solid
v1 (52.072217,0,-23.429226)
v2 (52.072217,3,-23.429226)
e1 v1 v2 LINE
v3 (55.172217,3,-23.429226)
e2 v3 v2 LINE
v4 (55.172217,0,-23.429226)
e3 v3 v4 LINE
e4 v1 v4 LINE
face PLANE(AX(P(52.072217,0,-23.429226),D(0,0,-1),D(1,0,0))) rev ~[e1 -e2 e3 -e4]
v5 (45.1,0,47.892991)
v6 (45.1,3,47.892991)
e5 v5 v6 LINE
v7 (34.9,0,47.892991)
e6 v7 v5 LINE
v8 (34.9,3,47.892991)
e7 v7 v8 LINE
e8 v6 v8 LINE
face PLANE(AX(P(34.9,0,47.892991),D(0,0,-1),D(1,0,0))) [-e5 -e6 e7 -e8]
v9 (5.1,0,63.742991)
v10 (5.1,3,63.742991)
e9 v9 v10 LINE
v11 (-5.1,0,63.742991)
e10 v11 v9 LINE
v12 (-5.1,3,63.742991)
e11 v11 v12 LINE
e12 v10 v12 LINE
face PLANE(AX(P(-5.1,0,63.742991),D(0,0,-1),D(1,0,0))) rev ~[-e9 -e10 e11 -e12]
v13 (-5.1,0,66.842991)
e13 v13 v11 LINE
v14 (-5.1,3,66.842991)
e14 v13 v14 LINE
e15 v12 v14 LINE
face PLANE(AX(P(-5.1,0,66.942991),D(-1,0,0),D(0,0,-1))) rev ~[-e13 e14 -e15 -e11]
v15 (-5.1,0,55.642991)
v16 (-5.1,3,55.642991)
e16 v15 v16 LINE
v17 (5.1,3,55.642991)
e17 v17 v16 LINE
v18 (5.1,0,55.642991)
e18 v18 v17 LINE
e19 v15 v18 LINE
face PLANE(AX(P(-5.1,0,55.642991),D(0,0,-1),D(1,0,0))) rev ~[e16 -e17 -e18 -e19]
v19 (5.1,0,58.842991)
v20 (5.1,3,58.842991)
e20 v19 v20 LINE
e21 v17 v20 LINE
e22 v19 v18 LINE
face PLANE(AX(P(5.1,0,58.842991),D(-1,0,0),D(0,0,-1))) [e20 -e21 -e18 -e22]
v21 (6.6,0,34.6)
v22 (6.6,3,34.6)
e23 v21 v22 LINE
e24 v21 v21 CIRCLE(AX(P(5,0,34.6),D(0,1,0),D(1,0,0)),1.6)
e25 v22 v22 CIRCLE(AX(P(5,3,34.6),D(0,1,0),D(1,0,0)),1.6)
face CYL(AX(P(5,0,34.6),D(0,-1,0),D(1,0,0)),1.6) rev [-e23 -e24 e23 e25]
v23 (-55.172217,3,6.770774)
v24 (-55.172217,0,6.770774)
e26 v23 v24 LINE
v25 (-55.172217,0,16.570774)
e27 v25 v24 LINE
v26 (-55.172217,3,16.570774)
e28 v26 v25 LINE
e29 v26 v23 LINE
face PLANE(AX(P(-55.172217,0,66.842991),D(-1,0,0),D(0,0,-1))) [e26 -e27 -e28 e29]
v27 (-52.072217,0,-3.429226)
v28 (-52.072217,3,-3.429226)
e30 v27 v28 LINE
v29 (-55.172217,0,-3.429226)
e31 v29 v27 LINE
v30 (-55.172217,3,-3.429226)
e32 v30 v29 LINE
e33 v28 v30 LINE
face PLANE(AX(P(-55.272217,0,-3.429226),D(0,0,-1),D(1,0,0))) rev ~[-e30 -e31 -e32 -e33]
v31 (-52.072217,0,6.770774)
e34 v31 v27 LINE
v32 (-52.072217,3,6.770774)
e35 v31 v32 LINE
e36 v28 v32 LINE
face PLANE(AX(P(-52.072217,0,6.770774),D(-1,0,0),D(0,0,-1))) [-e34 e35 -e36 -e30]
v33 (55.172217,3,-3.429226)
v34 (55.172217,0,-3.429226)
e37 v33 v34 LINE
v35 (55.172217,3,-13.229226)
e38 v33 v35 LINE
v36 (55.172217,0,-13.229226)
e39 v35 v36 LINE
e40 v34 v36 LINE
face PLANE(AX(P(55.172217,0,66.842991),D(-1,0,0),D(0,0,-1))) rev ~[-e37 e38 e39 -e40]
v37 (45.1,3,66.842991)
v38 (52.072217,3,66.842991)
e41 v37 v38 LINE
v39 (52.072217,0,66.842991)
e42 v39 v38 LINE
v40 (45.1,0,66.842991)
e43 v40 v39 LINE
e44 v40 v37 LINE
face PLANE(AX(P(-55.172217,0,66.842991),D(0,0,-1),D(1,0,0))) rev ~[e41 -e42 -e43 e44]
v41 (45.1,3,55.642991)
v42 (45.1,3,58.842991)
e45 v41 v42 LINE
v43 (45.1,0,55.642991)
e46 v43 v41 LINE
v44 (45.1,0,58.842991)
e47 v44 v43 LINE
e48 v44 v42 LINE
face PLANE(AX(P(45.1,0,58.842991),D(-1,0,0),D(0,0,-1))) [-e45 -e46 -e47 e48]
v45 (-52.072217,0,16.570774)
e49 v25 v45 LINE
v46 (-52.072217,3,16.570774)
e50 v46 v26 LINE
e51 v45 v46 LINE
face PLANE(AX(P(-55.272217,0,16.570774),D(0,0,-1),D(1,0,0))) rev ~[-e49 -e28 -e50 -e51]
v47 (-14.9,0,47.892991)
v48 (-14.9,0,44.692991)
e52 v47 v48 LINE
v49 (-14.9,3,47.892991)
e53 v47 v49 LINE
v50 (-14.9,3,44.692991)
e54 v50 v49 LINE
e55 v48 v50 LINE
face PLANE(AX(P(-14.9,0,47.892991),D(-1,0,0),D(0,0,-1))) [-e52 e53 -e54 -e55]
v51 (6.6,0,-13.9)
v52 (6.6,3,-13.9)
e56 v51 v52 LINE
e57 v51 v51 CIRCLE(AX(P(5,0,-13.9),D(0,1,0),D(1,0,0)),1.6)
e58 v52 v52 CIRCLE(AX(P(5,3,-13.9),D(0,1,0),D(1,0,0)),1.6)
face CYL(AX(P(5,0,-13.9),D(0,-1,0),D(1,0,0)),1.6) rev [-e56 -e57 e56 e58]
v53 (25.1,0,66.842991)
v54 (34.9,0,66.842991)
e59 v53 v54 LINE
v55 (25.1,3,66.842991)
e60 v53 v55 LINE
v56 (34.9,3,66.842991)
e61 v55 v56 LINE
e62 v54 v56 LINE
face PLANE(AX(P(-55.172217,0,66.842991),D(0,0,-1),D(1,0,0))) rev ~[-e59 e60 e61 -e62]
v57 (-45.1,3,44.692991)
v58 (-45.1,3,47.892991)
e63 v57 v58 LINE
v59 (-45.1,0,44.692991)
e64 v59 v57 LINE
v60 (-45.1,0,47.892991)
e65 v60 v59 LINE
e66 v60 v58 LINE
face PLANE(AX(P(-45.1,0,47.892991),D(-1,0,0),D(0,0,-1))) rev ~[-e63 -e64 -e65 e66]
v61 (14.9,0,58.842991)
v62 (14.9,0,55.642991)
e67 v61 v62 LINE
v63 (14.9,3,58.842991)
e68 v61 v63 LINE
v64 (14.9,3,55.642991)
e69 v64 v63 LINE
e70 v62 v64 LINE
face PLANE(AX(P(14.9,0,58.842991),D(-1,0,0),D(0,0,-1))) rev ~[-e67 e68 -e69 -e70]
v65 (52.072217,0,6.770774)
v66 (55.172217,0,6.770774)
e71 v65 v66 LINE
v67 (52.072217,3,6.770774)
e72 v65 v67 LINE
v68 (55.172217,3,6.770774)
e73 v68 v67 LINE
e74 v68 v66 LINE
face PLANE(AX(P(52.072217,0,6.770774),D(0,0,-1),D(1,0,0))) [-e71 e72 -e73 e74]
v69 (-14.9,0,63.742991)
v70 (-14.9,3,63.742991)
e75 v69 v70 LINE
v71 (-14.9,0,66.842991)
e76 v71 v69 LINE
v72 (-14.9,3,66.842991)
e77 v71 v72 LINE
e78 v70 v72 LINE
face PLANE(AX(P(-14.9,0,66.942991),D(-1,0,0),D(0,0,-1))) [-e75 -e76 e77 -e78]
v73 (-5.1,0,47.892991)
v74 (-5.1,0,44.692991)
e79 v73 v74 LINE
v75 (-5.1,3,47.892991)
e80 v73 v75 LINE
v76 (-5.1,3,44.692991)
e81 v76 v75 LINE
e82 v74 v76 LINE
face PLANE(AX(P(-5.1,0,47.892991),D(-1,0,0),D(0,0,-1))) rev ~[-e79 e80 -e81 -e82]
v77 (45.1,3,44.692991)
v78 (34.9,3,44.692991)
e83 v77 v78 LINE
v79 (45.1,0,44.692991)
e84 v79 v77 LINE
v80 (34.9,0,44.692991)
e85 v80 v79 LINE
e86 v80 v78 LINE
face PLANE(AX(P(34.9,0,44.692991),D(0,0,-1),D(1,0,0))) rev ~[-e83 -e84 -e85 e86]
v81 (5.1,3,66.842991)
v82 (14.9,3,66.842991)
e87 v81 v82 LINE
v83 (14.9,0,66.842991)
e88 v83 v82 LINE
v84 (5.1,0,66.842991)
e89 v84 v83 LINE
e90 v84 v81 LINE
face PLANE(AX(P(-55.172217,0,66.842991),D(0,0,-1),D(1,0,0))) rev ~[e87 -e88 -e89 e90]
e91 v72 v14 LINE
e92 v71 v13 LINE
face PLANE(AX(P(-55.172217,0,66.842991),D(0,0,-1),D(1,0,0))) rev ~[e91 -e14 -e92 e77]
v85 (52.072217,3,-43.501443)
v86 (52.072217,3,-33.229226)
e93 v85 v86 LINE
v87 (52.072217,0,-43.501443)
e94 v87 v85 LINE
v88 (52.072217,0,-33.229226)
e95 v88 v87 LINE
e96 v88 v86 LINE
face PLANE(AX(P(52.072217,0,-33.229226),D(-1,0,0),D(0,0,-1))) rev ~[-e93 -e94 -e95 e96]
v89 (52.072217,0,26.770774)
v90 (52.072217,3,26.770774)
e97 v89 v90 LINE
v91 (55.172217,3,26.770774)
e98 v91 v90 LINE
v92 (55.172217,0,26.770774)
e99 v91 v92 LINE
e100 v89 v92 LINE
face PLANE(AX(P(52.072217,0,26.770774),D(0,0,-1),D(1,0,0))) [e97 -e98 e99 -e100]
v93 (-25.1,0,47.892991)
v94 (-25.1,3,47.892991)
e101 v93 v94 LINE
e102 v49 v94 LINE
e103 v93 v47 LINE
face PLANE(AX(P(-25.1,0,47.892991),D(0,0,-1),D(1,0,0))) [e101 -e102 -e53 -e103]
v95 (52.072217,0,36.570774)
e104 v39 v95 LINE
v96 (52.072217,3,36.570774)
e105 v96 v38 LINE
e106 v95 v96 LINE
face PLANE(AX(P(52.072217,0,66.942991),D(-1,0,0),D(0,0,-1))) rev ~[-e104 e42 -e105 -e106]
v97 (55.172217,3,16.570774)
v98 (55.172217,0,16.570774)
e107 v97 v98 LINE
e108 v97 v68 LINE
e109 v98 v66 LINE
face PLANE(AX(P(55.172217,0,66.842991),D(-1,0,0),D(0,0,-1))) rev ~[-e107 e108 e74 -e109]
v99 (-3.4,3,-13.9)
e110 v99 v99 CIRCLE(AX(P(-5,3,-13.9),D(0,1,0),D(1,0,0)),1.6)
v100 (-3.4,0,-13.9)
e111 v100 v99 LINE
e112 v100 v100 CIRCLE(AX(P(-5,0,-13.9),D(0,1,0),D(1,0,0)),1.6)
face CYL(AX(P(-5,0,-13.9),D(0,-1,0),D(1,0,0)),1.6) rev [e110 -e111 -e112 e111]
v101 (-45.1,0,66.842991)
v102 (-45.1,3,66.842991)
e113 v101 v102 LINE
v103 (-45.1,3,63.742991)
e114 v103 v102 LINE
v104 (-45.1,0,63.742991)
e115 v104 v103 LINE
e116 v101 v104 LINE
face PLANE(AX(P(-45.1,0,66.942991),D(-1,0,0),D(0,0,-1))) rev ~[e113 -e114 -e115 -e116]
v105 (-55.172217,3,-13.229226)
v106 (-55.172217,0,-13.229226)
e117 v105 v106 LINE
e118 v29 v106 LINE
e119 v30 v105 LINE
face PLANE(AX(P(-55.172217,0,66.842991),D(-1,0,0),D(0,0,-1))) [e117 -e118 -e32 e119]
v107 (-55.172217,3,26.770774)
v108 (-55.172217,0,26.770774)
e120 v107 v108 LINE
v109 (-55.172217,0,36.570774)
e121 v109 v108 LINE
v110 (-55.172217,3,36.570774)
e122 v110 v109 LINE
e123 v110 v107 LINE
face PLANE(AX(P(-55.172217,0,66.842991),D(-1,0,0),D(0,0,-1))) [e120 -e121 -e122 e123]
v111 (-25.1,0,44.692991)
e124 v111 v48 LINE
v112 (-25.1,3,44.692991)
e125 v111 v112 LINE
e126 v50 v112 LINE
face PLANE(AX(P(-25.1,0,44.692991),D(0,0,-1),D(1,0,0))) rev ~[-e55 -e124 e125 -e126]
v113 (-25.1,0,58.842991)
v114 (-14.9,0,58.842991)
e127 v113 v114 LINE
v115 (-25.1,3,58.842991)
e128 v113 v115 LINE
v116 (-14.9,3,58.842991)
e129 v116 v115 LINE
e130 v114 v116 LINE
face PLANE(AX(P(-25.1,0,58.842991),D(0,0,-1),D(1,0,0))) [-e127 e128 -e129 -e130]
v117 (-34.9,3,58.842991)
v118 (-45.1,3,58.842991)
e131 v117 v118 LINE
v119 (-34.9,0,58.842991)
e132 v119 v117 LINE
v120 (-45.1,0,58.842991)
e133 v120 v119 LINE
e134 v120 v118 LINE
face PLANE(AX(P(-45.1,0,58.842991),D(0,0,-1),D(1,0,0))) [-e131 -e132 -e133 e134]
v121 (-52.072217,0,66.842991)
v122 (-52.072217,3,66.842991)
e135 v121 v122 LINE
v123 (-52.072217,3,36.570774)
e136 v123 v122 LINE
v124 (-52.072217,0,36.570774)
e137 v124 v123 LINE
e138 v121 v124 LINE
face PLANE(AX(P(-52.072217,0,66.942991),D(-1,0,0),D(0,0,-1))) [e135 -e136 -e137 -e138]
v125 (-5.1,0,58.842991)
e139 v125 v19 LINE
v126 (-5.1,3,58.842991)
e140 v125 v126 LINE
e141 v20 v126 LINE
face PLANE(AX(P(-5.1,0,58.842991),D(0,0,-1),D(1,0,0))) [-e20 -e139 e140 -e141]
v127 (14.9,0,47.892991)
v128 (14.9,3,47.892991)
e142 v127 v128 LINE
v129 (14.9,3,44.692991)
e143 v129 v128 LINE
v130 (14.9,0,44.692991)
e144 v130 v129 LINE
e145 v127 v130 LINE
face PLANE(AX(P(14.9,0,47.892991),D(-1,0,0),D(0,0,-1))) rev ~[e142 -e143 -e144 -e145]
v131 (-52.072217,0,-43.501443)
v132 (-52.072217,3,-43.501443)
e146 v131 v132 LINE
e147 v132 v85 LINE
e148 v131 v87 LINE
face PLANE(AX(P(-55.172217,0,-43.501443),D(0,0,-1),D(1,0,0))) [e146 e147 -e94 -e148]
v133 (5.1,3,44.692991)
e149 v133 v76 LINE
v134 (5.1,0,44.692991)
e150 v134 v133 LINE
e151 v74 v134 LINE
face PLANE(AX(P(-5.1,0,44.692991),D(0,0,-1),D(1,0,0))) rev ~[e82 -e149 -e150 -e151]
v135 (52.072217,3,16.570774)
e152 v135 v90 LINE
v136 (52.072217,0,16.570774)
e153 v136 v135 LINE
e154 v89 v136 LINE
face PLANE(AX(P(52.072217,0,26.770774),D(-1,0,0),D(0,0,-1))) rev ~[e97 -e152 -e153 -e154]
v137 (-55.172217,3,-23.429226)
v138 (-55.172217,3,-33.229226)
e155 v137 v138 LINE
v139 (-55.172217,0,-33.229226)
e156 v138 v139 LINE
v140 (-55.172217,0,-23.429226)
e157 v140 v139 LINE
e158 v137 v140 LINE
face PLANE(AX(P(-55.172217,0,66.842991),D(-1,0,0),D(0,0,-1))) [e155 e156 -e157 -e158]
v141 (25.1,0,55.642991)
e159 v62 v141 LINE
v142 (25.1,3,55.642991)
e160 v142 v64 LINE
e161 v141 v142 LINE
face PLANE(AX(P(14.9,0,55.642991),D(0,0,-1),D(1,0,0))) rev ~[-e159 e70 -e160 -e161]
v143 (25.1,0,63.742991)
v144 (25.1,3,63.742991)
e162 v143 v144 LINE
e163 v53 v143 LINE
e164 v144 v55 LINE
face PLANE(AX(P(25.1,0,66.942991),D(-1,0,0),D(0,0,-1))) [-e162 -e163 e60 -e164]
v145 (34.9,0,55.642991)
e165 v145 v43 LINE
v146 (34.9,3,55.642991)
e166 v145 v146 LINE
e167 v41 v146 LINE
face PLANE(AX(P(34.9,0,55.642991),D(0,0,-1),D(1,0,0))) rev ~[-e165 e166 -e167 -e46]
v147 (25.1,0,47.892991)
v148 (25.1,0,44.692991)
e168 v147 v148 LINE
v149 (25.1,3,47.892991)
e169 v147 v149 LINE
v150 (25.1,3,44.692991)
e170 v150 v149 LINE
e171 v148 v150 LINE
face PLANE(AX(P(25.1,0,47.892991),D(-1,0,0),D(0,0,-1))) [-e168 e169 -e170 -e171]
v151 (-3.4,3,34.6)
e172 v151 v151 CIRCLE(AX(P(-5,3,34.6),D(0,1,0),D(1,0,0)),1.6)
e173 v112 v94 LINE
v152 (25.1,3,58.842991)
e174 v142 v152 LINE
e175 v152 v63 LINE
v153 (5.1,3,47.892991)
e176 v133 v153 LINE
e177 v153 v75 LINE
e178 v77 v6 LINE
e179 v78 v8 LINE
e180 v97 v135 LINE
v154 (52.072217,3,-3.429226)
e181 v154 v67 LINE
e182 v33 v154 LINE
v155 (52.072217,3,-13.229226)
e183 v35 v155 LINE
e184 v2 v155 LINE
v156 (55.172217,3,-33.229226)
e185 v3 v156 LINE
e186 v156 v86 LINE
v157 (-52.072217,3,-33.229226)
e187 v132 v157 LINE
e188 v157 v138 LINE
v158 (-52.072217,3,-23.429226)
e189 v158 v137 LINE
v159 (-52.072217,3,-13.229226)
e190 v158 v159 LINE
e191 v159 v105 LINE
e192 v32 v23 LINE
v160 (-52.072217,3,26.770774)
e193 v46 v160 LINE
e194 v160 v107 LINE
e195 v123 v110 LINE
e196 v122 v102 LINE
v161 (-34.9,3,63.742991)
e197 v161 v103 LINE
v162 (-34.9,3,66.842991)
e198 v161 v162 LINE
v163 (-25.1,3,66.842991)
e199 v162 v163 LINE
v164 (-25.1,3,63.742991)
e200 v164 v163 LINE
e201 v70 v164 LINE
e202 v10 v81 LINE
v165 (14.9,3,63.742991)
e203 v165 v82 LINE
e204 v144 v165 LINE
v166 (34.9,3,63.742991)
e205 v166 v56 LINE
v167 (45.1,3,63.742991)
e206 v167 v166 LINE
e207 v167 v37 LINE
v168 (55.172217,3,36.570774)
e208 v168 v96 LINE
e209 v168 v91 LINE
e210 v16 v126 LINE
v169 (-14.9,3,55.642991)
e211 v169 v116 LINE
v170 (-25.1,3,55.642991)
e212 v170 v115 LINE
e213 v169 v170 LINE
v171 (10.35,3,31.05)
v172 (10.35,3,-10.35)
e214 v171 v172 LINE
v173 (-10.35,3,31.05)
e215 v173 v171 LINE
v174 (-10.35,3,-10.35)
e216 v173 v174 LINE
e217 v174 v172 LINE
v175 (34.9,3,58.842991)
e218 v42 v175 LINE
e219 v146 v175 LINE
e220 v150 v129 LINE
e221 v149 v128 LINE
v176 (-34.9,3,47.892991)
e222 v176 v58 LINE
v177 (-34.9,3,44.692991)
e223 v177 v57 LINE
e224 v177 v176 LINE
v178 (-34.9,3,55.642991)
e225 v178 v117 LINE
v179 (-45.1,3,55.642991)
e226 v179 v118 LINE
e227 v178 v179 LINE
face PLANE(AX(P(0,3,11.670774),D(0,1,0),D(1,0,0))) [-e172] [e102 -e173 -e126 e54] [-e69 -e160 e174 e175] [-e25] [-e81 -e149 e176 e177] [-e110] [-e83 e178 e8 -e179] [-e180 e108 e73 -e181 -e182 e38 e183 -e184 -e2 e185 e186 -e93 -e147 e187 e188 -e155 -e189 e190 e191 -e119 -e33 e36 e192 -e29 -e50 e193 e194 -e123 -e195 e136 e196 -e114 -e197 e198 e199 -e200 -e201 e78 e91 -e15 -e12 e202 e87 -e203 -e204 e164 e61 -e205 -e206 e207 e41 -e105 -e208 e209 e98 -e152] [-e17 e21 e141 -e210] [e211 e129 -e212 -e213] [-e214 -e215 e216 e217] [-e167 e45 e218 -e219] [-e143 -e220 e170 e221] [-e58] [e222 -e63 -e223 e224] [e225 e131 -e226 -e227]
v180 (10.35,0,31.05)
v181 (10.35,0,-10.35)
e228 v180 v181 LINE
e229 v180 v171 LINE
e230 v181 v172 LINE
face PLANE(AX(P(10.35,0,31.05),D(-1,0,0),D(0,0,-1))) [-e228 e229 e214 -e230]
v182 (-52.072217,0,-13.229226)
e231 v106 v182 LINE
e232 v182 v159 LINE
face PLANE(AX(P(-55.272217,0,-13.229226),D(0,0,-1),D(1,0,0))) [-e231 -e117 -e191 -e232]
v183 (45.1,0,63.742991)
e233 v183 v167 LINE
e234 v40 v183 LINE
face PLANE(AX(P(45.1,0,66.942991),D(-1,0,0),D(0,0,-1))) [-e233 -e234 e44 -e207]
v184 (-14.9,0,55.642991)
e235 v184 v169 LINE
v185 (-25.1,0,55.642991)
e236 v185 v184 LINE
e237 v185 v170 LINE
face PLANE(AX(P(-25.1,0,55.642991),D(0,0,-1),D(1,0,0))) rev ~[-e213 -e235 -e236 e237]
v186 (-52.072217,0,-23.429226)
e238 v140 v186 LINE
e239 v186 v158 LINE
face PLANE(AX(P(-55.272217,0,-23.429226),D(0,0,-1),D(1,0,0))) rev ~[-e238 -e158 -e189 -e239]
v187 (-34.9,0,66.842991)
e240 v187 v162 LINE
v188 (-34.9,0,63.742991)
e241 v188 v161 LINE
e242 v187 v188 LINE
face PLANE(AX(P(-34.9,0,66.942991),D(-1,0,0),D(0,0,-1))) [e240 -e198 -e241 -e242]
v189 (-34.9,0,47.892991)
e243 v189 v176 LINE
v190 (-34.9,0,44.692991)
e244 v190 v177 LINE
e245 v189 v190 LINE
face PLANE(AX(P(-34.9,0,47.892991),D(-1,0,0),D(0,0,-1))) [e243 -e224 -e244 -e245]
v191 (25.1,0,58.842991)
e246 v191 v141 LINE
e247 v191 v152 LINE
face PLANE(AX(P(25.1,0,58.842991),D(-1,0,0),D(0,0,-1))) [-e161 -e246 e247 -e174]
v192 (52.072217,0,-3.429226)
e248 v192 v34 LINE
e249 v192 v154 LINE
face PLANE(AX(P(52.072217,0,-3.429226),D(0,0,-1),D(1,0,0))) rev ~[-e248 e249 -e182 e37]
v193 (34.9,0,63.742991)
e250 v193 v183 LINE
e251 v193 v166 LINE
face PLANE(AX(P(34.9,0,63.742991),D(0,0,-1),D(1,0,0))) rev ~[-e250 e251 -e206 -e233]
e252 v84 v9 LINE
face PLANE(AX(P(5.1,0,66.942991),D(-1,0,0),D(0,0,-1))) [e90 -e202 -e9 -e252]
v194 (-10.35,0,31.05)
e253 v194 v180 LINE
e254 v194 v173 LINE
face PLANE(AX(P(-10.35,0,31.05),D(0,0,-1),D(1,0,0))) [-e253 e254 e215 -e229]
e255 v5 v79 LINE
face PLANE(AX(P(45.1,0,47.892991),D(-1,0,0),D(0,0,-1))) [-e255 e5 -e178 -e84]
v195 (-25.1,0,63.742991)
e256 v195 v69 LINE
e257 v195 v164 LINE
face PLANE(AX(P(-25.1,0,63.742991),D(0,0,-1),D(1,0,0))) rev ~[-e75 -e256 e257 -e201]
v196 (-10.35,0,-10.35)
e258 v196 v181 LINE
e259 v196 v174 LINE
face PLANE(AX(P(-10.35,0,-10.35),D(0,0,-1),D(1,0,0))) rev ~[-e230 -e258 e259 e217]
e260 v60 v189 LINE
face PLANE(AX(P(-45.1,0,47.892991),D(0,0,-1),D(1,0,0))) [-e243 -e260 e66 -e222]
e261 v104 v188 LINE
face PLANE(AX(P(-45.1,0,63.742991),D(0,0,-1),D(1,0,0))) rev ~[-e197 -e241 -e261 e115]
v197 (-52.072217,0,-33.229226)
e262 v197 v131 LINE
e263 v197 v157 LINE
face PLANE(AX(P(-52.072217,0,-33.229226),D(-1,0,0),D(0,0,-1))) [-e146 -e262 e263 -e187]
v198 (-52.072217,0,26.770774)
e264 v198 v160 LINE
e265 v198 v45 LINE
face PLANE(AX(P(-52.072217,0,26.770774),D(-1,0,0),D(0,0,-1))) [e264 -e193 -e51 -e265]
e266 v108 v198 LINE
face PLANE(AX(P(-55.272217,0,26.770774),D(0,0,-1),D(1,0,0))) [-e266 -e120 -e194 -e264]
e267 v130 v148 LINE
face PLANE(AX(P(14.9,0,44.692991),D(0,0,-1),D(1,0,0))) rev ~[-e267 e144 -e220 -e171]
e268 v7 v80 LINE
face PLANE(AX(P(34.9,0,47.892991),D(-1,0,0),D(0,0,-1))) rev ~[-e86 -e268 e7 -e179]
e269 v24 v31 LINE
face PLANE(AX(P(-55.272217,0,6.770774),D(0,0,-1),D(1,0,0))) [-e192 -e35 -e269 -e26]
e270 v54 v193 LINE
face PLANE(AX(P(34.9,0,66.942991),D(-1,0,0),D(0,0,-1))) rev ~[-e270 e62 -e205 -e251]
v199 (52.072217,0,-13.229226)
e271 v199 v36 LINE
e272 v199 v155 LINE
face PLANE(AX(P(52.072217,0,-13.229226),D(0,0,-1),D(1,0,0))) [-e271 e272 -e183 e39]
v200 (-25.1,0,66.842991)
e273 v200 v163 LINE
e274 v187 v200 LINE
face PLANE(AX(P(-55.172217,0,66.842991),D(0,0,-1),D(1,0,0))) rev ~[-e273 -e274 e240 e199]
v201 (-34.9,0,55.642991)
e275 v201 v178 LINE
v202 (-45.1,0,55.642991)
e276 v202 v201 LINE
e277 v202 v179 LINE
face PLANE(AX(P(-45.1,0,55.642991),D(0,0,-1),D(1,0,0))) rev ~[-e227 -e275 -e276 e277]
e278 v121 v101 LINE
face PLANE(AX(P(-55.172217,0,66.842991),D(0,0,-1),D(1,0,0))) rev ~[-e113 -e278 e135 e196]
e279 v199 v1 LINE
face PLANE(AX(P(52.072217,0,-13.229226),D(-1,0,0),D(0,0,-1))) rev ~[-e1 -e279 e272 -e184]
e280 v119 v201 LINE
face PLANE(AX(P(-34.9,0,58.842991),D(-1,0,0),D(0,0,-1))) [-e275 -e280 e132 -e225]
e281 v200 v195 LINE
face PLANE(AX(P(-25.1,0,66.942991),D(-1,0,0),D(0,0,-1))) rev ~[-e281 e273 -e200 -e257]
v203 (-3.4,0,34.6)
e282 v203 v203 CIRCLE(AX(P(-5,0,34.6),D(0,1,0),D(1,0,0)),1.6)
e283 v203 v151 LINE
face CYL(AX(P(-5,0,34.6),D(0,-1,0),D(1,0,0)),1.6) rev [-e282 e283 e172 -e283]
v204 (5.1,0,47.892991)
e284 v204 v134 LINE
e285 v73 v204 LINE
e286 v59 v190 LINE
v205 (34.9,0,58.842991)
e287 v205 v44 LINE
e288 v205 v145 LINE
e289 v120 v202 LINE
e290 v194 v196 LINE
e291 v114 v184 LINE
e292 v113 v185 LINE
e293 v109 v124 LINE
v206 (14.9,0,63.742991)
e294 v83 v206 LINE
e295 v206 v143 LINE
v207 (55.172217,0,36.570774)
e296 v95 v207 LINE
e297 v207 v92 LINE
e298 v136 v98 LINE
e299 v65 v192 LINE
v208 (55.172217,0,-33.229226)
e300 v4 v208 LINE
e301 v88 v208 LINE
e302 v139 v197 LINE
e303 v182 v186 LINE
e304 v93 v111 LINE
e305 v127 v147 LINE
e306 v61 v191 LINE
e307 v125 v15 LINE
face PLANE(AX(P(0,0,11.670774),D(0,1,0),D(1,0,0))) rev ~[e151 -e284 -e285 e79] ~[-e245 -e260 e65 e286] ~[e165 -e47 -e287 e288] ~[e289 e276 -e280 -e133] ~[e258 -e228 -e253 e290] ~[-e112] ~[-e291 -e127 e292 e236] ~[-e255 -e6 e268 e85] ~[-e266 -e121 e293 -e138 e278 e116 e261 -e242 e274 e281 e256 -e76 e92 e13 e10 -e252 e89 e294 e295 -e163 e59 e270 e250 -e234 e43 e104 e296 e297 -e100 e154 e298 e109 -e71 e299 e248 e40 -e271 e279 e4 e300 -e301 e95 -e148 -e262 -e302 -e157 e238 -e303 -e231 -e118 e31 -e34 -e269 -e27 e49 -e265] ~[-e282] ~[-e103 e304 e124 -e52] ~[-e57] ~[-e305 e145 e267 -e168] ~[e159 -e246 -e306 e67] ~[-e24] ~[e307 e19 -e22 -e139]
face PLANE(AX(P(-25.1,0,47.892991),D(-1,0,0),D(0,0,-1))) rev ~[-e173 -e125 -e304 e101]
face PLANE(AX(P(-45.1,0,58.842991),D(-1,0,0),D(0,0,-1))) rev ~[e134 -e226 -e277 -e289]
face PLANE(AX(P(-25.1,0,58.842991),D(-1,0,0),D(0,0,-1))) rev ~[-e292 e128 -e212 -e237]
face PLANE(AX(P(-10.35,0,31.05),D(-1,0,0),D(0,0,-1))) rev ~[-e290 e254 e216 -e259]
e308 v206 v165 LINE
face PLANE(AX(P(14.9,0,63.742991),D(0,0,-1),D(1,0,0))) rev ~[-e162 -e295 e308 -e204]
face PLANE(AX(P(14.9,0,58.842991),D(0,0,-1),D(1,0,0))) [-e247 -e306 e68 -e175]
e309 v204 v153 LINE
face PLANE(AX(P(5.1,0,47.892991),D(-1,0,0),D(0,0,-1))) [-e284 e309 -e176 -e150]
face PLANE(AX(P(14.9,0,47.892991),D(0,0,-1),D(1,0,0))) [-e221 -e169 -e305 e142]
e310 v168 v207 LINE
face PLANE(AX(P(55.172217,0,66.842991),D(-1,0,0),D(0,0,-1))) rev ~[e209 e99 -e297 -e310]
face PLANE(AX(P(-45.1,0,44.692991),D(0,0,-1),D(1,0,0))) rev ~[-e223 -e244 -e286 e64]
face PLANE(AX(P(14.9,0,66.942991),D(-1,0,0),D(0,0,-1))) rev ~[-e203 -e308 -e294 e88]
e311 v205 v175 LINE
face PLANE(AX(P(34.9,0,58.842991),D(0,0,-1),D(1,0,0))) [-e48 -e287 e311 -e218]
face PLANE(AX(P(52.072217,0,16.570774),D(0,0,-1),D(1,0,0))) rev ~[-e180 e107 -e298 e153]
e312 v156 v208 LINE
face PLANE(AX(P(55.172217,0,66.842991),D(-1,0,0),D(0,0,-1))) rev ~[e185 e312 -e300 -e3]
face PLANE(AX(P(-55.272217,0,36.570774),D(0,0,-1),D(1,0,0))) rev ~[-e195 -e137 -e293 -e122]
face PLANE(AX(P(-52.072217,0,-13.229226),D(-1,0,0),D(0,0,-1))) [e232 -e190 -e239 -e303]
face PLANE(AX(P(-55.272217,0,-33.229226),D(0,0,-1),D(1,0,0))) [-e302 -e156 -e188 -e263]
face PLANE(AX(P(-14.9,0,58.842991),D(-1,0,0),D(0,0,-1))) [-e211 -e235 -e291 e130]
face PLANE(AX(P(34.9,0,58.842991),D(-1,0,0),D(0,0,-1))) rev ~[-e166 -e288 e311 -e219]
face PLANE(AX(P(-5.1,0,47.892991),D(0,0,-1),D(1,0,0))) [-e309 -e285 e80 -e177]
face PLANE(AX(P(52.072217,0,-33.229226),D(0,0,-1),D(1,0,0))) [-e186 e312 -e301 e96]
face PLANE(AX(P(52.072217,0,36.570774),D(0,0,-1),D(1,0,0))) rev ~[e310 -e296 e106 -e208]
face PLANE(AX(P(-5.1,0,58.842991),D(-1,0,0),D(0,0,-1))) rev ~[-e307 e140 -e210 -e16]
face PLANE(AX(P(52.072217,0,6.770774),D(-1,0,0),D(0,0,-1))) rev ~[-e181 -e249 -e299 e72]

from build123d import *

# Parameters (mm, degrees)
SKETCH1_W           = 110.344434204
SKETCH1_H           = 110.344434204
SKETCH1_R           = 1.6
SKETCH1_W_2         = 20.7
SKETCH1_H_2         = 41.4
BOSS_EXTRUDE1_DEPTH = 3
SKETCH3_W           = 3.2
SKETCH3_H           = 10.2
SKETCH3_H_2         = 10.372217102
SKETCH3_W_2         = 10.2
SKETCH3_H_3         = 3.2
SKETCH3_H_4         = 30.372217102
CUT_EXTRUDE1_DEPTH  = 4


with BuildPart() as part:
    # Sketch1 → Boss-Extrude1 (new body)
    with BuildSketch(Plane(origin=(0, 0, 0), x_dir=(1, 0, 0), z_dir=(0, 1, 0))):
        with Locations((0, -11.670773756)):
            Rectangle(SKETCH1_W, SKETCH1_H)
        with Locations((-5, 13.9)):
            Circle(SKETCH1_R, mode=Mode.SUBTRACT)
        with Locations((5, 13.9)):
            Circle(SKETCH1_R, mode=Mode.SUBTRACT)
        with Locations((5, -34.6)):
            Circle(SKETCH1_R, mode=Mode.SUBTRACT)
        with Locations((-5, -34.6)):
            Circle(SKETCH1_R, mode=Mode.SUBTRACT)
        with Locations((0, -10.35)):
            Rectangle(SKETCH1_W_2, SKETCH1_H_2, mode=Mode.SUBTRACT)
    extrude(amount=BOSS_EXTRUDE1_DEPTH)

    # Sketch3 → Cut-Extrude1 (cut, through all)
    with BuildSketch(Plane(origin=(0, 0, 0), x_dir=(1, 0, 0), z_dir=(0, 1, 0))):
        with Locations((53.672217102, -1.670773756)):
            Rectangle(SKETCH3_W, SKETCH3_H)
        with Locations((53.672217102, 18.329226244)):
            Rectangle(SKETCH3_W, SKETCH3_H)
        with Locations((53.672217102, 38.415334795)):
            Rectangle(SKETCH3_W, SKETCH3_H_2)
        with Locations((40, -46.292990858)):
            Rectangle(SKETCH3_W_2, SKETCH3_H_3)
        with Locations((53.672217102, -21.670773756)):
            Rectangle(SKETCH3_W, SKETCH3_H)
        with Locations((20, -46.292990858)):
            Rectangle(SKETCH3_W_2, SKETCH3_H_3)
        with Locations((0, -46.292990858)):
            Rectangle(SKETCH3_W_2, SKETCH3_H_3)
        with Locations((-20, -46.292990858)):
            Rectangle(SKETCH3_W_2, SKETCH3_H_3)
        with Locations((-40, -46.292990858)):
            Rectangle(SKETCH3_W_2, SKETCH3_H_3)
        with Locations((-53.672217102, 38.415334795)):
            Rectangle(SKETCH3_W, SKETCH3_H_2)
        with Locations((-53.672217102, 18.329226244)):
            Rectangle(SKETCH3_W, SKETCH3_H)
        with Locations((-53.672217102, -1.670773756)):
            Rectangle(SKETCH3_W, SKETCH3_H)
        with Locations((-53.672217102, -21.670773756)):
            Rectangle(SKETCH3_W, SKETCH3_H)
        with Locations((40, -65.342990858)):
            Rectangle(SKETCH3_W_2, SKETCH3_H_3)
        with Locations((53.672217102, -51.756882307)):
            Rectangle(SKETCH3_W, SKETCH3_H_4)
        with Locations((40, -57.242990858)):
            Rectangle(SKETCH3_W_2, SKETCH3_H_3)
        with Locations((20, -65.342990858)):
            Rectangle(SKETCH3_W_2, SKETCH3_H_3)
        with Locations((0, -65.342990858)):
            Rectangle(SKETCH3_W_2, SKETCH3_H_3)
        with Locations((20, -57.242990858)):
            Rectangle(SKETCH3_W_2, SKETCH3_H_3)
        with Locations((0, -57.242990858)):
            Rectangle(SKETCH3_W_2, SKETCH3_H_3)
        with Locations((-40, -65.342990858)):
            Rectangle(SKETCH3_W_2, SKETCH3_H_3)
        with Locations((-40, -57.242990858)):
            Rectangle(SKETCH3_W_2, SKETCH3_H_3)
        with Locations((-20, -57.242990858)):
            Rectangle(SKETCH3_W_2, SKETCH3_H_3)
        with Locations((-20, -65.342990858)):
            Rectangle(SKETCH3_W_2, SKETCH3_H_3)
        with Locations((-53.672217102, -51.756882307)):
            Rectangle(SKETCH3_W, SKETCH3_H_4)
    extrude(amount=CUT_EXTRUDE1_DEPTH, mode=Mode.SUBTRACT)


solid = part.part
